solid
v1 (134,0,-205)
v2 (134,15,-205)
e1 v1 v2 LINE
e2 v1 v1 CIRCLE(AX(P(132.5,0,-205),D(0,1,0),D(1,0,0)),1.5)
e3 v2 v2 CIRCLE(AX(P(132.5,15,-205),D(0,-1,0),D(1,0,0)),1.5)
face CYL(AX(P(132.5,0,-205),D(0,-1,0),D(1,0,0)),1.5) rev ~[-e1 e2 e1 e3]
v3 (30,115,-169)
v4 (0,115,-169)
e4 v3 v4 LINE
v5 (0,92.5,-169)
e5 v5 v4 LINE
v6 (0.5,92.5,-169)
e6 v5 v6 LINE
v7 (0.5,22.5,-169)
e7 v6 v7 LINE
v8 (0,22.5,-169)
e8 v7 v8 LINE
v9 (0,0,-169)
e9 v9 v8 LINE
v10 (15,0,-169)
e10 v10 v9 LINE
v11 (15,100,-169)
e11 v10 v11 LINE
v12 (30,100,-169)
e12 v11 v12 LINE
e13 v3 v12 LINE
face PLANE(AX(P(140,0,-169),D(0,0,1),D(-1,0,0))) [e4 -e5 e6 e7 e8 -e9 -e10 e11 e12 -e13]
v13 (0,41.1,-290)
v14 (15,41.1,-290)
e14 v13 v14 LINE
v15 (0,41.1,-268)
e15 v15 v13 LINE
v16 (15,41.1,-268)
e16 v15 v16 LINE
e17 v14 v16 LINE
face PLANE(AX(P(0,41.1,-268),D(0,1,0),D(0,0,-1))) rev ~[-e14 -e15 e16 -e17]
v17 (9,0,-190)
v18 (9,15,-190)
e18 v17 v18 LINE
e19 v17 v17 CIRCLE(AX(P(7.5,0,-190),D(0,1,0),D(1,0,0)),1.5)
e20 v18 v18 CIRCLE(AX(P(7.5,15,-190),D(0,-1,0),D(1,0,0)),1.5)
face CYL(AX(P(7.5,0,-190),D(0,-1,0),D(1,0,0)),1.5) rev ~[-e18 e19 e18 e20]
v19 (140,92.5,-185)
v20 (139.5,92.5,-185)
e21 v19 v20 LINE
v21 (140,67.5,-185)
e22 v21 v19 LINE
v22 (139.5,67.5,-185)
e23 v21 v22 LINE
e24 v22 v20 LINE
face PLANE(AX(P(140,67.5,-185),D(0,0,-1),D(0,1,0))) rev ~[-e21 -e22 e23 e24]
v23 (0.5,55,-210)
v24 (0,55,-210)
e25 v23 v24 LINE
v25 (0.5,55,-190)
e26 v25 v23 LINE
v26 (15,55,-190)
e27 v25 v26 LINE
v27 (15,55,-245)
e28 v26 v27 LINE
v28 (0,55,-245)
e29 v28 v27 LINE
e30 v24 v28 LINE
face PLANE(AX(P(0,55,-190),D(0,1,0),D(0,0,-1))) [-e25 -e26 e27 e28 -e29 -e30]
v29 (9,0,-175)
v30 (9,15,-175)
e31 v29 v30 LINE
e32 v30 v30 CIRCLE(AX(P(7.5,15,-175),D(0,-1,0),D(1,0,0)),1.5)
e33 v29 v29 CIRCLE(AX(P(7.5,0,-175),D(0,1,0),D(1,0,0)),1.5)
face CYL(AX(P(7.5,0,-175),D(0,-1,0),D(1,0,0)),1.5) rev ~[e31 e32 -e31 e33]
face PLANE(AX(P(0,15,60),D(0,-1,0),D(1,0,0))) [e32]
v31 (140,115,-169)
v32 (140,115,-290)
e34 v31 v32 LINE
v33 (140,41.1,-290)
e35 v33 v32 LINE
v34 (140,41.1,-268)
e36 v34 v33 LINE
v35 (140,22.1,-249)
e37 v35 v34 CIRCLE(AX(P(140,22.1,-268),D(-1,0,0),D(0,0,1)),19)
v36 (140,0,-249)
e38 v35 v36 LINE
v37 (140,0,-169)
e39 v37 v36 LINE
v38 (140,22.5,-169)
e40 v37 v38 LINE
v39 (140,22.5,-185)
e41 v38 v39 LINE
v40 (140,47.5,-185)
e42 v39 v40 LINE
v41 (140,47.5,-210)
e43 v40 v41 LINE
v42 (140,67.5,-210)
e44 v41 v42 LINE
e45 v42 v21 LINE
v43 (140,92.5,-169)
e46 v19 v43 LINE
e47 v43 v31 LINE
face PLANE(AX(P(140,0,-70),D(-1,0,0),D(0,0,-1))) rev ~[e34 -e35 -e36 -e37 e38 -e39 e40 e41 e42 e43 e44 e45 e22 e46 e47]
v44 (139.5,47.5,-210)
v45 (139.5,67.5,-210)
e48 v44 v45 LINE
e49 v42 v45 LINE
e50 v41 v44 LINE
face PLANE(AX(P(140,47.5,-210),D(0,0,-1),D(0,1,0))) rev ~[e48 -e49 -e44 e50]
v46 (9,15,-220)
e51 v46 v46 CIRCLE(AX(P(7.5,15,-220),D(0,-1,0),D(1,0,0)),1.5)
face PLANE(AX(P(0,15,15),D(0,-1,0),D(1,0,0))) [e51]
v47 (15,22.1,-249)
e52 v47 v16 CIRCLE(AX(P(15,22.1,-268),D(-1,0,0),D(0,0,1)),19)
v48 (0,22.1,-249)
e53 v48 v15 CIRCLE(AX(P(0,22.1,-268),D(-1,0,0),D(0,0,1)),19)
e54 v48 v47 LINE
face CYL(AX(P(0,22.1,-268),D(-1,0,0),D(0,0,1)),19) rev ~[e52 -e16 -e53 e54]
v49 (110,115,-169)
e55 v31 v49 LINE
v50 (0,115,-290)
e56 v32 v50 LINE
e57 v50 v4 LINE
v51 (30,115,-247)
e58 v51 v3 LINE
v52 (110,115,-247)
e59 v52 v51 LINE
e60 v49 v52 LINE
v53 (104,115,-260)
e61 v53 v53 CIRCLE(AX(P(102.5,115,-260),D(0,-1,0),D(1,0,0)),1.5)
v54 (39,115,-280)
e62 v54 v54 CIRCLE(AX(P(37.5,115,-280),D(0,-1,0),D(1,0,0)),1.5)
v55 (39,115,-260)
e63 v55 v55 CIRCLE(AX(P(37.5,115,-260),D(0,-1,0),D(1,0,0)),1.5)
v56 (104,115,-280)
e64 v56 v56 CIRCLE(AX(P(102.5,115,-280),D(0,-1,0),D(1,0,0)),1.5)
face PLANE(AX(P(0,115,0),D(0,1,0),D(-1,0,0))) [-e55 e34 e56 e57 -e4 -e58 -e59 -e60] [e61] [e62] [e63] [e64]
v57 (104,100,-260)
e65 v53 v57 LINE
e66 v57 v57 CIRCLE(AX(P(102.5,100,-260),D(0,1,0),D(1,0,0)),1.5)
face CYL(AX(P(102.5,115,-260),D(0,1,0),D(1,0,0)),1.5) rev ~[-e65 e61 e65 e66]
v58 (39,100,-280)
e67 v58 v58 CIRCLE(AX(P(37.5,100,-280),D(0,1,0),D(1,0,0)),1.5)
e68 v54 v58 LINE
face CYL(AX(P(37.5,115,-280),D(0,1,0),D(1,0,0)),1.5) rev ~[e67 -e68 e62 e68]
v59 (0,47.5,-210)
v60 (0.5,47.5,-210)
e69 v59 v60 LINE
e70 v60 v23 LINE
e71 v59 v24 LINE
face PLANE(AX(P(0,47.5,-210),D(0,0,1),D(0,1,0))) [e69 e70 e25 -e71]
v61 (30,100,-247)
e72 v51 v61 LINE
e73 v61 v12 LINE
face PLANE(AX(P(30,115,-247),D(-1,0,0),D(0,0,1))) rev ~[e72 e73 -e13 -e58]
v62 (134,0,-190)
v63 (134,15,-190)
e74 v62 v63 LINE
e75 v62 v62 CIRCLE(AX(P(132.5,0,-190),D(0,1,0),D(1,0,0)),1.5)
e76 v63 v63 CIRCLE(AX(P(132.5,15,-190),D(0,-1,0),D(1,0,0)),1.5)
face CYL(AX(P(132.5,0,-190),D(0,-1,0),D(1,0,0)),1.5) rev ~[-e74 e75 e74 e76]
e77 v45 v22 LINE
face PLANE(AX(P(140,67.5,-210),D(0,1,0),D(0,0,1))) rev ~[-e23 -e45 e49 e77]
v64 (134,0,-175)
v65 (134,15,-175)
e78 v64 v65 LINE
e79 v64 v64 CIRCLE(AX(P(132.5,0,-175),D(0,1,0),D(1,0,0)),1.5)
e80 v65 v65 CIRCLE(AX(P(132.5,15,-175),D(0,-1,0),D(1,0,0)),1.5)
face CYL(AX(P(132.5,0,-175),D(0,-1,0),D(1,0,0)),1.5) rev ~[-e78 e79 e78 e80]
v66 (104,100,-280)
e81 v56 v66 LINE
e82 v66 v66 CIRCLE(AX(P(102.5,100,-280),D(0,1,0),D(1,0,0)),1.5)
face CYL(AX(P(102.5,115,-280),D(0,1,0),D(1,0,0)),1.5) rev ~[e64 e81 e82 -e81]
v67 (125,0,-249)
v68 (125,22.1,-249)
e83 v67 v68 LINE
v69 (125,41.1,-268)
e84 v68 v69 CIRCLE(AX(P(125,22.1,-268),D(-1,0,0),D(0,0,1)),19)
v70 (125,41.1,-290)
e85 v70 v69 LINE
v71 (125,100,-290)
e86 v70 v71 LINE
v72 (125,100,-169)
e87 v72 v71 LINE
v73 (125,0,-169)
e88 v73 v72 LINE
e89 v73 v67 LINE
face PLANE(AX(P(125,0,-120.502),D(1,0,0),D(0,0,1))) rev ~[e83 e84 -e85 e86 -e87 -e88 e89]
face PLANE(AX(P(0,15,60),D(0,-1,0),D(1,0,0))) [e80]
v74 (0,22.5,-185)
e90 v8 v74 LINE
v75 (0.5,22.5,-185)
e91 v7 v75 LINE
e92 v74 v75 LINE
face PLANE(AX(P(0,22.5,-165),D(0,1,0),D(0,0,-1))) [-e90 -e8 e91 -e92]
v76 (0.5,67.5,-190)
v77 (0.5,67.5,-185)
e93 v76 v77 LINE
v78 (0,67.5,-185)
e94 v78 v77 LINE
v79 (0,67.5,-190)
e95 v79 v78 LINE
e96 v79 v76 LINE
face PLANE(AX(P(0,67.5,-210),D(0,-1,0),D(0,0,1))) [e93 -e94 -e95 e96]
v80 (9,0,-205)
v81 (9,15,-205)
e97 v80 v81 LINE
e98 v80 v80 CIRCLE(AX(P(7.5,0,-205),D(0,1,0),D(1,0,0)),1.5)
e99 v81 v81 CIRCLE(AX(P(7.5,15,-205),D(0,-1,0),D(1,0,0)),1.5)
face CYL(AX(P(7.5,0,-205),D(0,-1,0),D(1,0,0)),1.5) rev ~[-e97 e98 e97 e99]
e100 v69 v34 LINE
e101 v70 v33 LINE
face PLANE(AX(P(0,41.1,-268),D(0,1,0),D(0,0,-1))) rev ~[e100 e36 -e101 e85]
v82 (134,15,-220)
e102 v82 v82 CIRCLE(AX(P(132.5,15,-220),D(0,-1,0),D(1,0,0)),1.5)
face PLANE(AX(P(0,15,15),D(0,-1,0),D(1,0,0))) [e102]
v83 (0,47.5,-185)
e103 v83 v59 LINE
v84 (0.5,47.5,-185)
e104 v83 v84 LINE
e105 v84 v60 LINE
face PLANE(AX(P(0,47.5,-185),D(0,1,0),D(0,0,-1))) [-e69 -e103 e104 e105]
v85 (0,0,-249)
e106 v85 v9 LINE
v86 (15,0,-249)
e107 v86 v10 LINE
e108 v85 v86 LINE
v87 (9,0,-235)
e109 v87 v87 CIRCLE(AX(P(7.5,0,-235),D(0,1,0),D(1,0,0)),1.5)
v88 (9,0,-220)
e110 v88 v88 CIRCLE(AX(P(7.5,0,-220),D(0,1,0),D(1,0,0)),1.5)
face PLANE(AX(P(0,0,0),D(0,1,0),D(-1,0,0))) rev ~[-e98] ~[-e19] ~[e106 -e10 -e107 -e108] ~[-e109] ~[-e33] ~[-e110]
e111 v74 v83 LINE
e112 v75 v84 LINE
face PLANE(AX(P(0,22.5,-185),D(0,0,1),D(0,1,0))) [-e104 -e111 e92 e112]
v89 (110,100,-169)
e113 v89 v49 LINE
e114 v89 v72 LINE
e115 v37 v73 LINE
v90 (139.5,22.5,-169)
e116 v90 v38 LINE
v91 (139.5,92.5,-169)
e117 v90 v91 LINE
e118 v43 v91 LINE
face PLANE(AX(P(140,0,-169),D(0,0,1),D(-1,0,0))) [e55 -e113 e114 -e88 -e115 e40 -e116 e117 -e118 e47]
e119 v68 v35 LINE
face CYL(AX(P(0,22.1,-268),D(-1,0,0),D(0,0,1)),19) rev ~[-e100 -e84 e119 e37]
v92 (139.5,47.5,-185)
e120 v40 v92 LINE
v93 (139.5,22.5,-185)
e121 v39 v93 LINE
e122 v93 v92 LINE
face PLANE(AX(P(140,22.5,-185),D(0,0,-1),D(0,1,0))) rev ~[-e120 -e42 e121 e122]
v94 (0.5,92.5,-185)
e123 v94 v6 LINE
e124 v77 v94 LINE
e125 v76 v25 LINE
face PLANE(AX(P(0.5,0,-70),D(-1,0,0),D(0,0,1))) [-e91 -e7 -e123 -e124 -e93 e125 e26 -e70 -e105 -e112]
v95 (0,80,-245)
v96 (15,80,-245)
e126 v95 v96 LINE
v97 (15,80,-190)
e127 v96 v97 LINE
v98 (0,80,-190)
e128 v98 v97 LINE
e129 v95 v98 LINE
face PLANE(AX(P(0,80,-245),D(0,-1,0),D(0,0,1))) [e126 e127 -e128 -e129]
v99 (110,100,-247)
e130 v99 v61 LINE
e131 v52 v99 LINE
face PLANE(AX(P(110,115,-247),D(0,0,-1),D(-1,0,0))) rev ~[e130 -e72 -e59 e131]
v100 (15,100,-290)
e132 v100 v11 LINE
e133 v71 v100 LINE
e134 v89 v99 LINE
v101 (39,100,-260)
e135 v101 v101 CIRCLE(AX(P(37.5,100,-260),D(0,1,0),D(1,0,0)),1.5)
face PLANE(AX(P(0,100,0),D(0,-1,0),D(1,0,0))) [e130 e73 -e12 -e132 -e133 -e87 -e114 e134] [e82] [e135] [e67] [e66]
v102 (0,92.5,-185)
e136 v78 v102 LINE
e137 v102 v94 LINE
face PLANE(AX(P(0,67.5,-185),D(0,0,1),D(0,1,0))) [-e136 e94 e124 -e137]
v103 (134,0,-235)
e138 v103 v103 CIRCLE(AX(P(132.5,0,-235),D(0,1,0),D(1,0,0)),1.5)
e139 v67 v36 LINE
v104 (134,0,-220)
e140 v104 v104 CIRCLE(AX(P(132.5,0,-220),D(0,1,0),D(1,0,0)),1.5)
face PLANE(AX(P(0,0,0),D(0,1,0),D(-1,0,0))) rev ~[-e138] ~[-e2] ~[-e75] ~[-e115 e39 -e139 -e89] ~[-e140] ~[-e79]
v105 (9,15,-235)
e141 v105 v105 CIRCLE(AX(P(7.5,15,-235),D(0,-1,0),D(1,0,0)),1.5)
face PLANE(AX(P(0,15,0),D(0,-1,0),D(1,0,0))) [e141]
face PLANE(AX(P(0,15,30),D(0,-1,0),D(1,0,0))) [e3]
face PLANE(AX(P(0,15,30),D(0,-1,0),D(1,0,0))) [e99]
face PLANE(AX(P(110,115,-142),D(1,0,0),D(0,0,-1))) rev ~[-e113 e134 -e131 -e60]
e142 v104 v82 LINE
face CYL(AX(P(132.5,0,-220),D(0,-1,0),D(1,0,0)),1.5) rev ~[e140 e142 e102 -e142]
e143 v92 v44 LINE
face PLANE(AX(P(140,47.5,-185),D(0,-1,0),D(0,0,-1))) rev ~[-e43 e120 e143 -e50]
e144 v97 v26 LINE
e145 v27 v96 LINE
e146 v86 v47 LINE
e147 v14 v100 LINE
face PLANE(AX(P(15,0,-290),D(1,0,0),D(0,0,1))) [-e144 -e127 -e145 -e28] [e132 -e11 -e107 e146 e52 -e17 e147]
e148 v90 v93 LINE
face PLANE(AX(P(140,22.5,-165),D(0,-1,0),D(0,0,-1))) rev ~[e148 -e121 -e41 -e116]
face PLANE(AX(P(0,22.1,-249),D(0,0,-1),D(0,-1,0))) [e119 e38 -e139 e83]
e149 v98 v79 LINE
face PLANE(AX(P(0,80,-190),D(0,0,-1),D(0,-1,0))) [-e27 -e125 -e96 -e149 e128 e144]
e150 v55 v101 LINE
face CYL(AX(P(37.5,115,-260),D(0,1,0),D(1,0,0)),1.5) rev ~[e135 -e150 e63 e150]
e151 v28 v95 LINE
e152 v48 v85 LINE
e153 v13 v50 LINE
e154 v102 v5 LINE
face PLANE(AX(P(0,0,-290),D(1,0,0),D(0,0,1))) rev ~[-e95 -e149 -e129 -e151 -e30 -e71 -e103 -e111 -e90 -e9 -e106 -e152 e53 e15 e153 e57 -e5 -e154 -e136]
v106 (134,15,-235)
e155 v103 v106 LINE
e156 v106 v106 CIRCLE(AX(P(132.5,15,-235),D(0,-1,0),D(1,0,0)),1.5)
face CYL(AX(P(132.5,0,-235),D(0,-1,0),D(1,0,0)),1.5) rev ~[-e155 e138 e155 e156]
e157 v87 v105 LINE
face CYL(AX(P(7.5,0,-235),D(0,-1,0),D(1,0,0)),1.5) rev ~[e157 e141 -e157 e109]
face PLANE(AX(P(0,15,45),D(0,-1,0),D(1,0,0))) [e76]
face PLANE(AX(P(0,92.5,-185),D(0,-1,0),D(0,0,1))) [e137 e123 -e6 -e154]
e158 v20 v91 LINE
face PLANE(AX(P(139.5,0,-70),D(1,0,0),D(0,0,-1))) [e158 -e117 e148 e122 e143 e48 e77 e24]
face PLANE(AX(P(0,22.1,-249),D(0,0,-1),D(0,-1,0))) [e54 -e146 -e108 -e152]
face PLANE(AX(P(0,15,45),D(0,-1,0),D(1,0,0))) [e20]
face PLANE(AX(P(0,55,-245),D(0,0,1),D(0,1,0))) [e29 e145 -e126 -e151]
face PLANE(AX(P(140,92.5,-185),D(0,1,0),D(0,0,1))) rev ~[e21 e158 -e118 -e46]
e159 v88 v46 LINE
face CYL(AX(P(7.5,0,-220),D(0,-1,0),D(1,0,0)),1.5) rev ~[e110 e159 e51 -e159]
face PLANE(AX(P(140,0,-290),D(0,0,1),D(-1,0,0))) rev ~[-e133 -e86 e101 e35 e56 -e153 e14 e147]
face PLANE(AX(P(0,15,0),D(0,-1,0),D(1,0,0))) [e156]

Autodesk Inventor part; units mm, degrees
sketch "Sketch1" plane through (0, 0, 0) normal (0, 1, 0) x (-1, 0, 0)
  line L0 (0, 0) -> (-140, 0)
  line L1 (-140, 0) -> (-140, -290)
  line L2 (-140, -290) -> (0, -290)
  line L3 (0, -290) -> (0, 0)
  line L4 (0, -70) -> (-50, 0)
  line L5 (-90, 0) -> (-140, -70)
  dimension "d0" = 290
  dimension "d1" = 140
  dimension "d2" = 70
  dimension "d3" = 50
  dimension "d4" = 50
extrude "Extrusion1" add sketch "Sketch1" along normal blind 115 contours L4 L3 L2 L1 L5 L0
sketch "Sketch2" plane through (140, 0, -70) normal (1, 0, 0) x (0, 0, -1)
  line L0 (-70, 0) -> (-70, 115) projected
  line L1 (-70, 45) -> (0, 65)
  line L2 (0, 0) -> (0, 115) projected
  line L3 (0, 65) -> (40, 115)
  line L4 (220, 115) -> (0, 115) projected
  line L5 (-70, 0) -> (0, 0) projected
  line L6 (0, 0) -> (0, 115) projected
  line L7 (-70, 115) -> (0, 115) projected
  line L8 (-70, 0) -> (-70, 115) projected
  point P0 (0, 115)
  dimension "d7" = 20
  dimension "d8" = 45
  dimension "d9" = 40
extrude "Extrusion2" cut sketch "Sketch2" against normal up to next contours L0 L7 L2 L1
extrude "Extrusion3" cut sketch "Sketch2" against normal up to next contours L2 L4 L3
sketch "Sketch5" plane through (50, 45, 0) normal (0, 0.9615, 0.2747) x (1, 0, 0)
  line L0 (90, 72.8011) -> (-50, 72.8011) projected
  line L1 (-50, 298.0724) -> (-50, 124.9981) projected
  point P0 (-50, -12.3625)
  point P1 (20, 52.8011)
  dimension "d17" = 20
  dimension "d18" = 70
ref_plane "Work Plane2" through (70, 115, -110) normal (0.1295, 0.7236, 0.678) x (0, -0.6837, 0.7297)
sketch "Sketch7" plane through (70, 115, -110) normal (0.1295, 0.7236, 0.678) x (0, -0.6837, 0.7297)
  line L0 (0, -69.411) -> (0, 69.411) projected
  line L1 (0, 69.411) -> (-131.3545, 85.3428) projected
  line L2 (-131.3545, 85.3428) -> (-131.3545, -53.4792) projected
  line L3 (-131.3545, -53.4792) -> (0, -69.411) projected
  line L4 (63.3757, -68.2279) -> (0, -69.411) projected
  line L5 (63.3757, 70.594) -> (63.3757, -68.2279) projected
  line L6 (0, 69.411) -> (63.3757, 70.594) projected
  line L7 (0, -69.411) -> (0, 69.411) projected
  line L8 (0, 69.411) -> (63.3757, 70.594) projected
  line L9 (107.8174, 76.7345) -> (63.3757, 70.594) projected
  line L10 (107.8174, 76.7345) -> (-52.727, 96.2066) projected
  line L11 (-52.727, 96.2066) -> (-131.3545, 85.3428) projected
  line L12 (0, 69.411) -> (-131.3545, 85.3428) projected
  line L13 (128.1324, -22.955) -> (63.3757, -68.2279) projected
  line L14 (128.1324, 16.7084) -> (128.1324, -22.955) projected
  line L15 (63.3757, 70.594) -> (128.1324, 16.7084) projected
  line L16 (63.3757, 70.594) -> (63.3757, -68.2279) projected
  line L17 (63.3757, 70.594) -> (128.1324, 16.7084) projected
  line L18 (158.8997, 20.9595) -> (128.1324, 16.7084) projected
  line L19 (158.8997, 20.9595) -> (107.8174, 76.7345) projected
  line L20 (107.8174, 76.7345) -> (63.3757, 70.594) projected
  line L21 (128.1324, 16.7084) -> (128.1324, -22.955) projected
  line L22 (107.8174, -62.0875) -> (63.3757, -68.2279) projected
  line L23 (107.8174, -62.0875) -> (158.8997, -18.7039) projected
  line L24 (128.1324, 16.7084) -> (128.1324, -22.955) projected
  line L25 (158.8997, -18.7039) -> (128.1324, -22.955) projected
  line L26 (158.8997, -18.7039) -> (158.8997, 20.9595) projected
  line L27 (158.8997, 20.9595) -> (128.1324, 16.7084) projected
  line L28 (0, 0) -> (81.1658, 0)
  line L29 (81.1658, 0) -> (63.3757, 70.594)
  line L30 (0, 0) -> (63.3757, 70.594)
  point P0 (158.8997, -68.2832)
extrude "Extrusion4" cut sketch "Sketch7" along normal up to next contours L3 L2 L1 L0 | L0 L28 L5 L4 | L30 L5 L28 | L0 L6 L30 | L1 L11 L10 L9 L6
extrude "Extrusion5" add sketch "Sketch7" against normal blind 20 contours L30 L5 L28 | L5 L29 L28
ref_plane "Work Plane3" through (70, 115, -110) normal (0.1295, -0.7236, -0.678) x (0, -0.6837, 0.7297)
sketch "Sketch9" plane through (70, 115, -110) normal (0.1295, -0.7236, -0.678) x (0, -0.6837, 0.7297)
  line L0 (81.1658, 0) -> (63.3757, 2.3661) projected
  line L1 (-131.3545, 85.3428) -> (0, 69.411) projected
  line L2 (81.1658, 0) -> (0, 0)
  line L3 (0, 0) -> (0, 69.411)
  line L4 (0, 69.411) -> (81.1658, 69.411)
  line L5 (81.1658, 69.411) -> (81.1658, 0)
  line L6 (0, 0) -> (-9.7539, -68.2279) projected
  line L7 (0, 0) -> (-9.7539, -68.2279) projected
  line L8 (-9.7539, -68.2279) -> (-131.3545, -53.4792) projected
  line L9 (-131.3545, -53.4792) -> (-131.3545, 85.3428) projected
  line L10 (-131.3545, 85.3428) -> (0, 69.411) projected
  line L11 (0, 69.411) -> (0, 0) projected
  line L12 (0, 0) -> (81.1658, 0) projected
  line L13 (93.1192, -47.4335) -> (81.1658, 0) projected
  line L14 (148.2908, -20.1697) -> (93.1192, -47.4335) projected
  line L15 (153.1835, 20.1697) -> (148.2908, -20.1697) projected
  line L16 (63.3757, 70.594) -> (153.1835, 20.1697) projected
  line L17 (81.1658, 0) -> (63.3757, 70.594) projected
  line L18 (0, 0) -> (-9.7539, 70.594) projected
  line L19 (63.3757, 70.594) -> (0, 0) projected
  line L20 (-9.7539, 70.594) -> (63.3757, 70.594) projected
  line L21 (0, 0) -> (81.1658, 0) projected
  line L22 (0, 0) -> (-9.7539, 70.594) projected
  line L23 (63.3757, 70.594) -> (0, 0) projected
  line L24 (0, 0) -> (81.1658, 0) projected
  line L25 (0, 0) -> (-9.7539, 70.594) projected
  line L26 (63.3757, 70.594) -> (0, 0) projected
  line L27 (93.1192, -47.4335) -> (81.1658, 0) projected
  line L28 (148.2908, -20.1697) -> (93.1192, -47.4335) projected
  line L29 (153.1835, 20.1697) -> (148.2908, -20.1697) projected
  line L30 (63.3757, 70.594) -> (153.1835, 20.1697) projected
  line L31 (81.1658, 0) -> (63.3757, 70.594) projected
  line L32 (-9.7539, 70.594) -> (63.3757, 70.594) projected
  line L33 (93.1192, -47.4335) -> (81.1658, 0) projected
  line L34 (148.2908, -20.1697) -> (93.1192, -47.4335) projected
  line L35 (153.1835, 20.1697) -> (148.2908, -20.1697) projected
  line L36 (63.3757, 70.594) -> (153.1835, 20.1697) projected
  line L37 (81.1658, 0) -> (63.3757, 70.594) projected
  line L38 (-9.7539, 70.594) -> (63.3757, 70.594) projected
  point P0 (158.8997, 70.5388)
  point P1 (62.3137, 69.411)
  point P2 (63.6739, 69.411)
  point P3 (65.4828, 69.411)
extrude "Extrusion7" cut sketch "Sketch9" against normal blind 20 contours L20 L19 L4 L1 | L1 L3 L18 | L4 L19 L3
extrude "Extrusion8" add sketch "Sketch9" along normal blind 20 contours L19 L4 L17 L2 | L16 L4 L17 | L17 L4 L19 | L17 L4 L16 L5 | L5 L16 L15 L14 L13
sketch "Sketch10" plane through (140, 0, -290) normal (0, 0, -1) x (-1, 0, 0)
  line L0 (140, 0) -> (0, 0)
  line L1 (0, 0) -> (0, -20)
  line L2 (0, -20) -> (140, -20)
  line L3 (140, -20) -> (140, 0)
  dimension "d31" = 20
extrude "Extrusion9" cut sketch "Sketch10" against normal up to next
ref_plane "Work Plane5" through (0, 15, 0) normal (0, -1, 0) x (1, 0, 0)
sketch "Sketch11" plane through (0, 15, 0) normal (0, -1, 0) x (1, 0, 0)
  line L0 (50, 0) -> (0, -70) projected
  line L1 (0, -70) -> (25, -63.132)
  line L2 (70, -50.7695) -> (0, -70) projected
  line L3 (25, -63.132) -> (50, 0)
  line L4 (90, 0) -> (140, -70) projected
  line L5 (90, 0) -> (140, -70)
  line L6 (140, -70) -> (70, -50.7695)
  line L7 (50, 0) -> (90, 0) projected
  line L8 (90, 0) -> (115, -63.132)
  line L9 (34.8321, -38.3031) -> (17.8321, -45.035)
  line L10 (105.1679, -38.3031) -> (122.1679, -45.035)
  line L11 (34.8321, -38.3031) -> (50, 0)
  line L12 (105.1679, -38.3031) -> (90, 0)
  line L13 (122.1679, -45.035) -> (90, 0)
  line L14 (17.8321, -45.035) -> (50, 0)
  point P0 (0, 0)
  dimension "d36" = 25
  dimension "d37" = 25
  dimension "d40" = 17
  dimension "d41" = 17
extrude "Extrusion10" cut sketch "Sketch11" against normal up to next contours L3 L9 L0 | L4 L10 L8
ref_plane "Work Plane6" through (0, 35, 0) normal (0, -1, 0) x (1, 0, 0)
sketch "Sketch12" plane through (0, 35, 0) normal (0, -1, 0) x (1, 0, 0)
  line L0 (114.8999, -25) -> (99.8999, -25)
  line L1 (99.8999, -25) -> (99.8999, -50)
  line L2 (99.8999, -50) -> (114.8999, -50)
  line L3 (114.8999, -50) -> (114.8999, -25)
  line L4 (90, 0) -> (105.1679, -38.3031) projected
  line L5 (34.8321, -38.3031) -> (50, 0) projected
  line L6 (40.1001, -25) -> (25.1001, -25)
  line L7 (25.1001, -25) -> (25.1001, -50)
  line L8 (25.1001, -50) -> (40.1001, -50)
  line L9 (40.1001, -50) -> (40.1001, -25)
  point P0 (0, 0)
  point P1 (114.8999, -37.5)
  point P2 (99.8999, -37.5)
  point P3 (107.3999, -25)
  point P4 (107.3999, -50)
  point P5 (32.6001, -25)
  dimension "d43" = 15
  dimension "d44" = 25
  dimension "d45" = 25
  dimension "d46" = 15
  dimension "d47" = 25
  dimension "d48" = 25
extrude "Extrusion11" add sketch "Sketch12" along normal blind 7.5 and the other way blind 7.5
sketch "Sketch13" plane through (25.1001, 27.5, -25) normal (0, 0, 1) x (1, 0, 0)
  line L0 (0, 15) -> (15, 15) projected
  line L1 (15, 15) -> (15, 0) projected
  line L2 (15, 0) -> (0, 0) projected
  line L3 (0, 0) -> (0, 15) projected
  line L4 (15, 15) -> (15, 24.6429) projected
  line L5 (15, 24.6429) -> (74.7998, 24.6429) projected
  line L6 (74.7998, 24.6429) -> (74.7998, 15) projected
  line L7 (74.7998, 0) -> (74.7998, 15) projected
  line L8 (89.7998, 0) -> (74.7998, 0) projected
  line L9 (89.7998, 15) -> (89.7998, 0) projected
  line L10 (74.7998, 15) -> (89.7998, 15) projected
  line L11 (15, -12.5) -> (15, 0) projected
  line L12 (7.0428, -12.5) -> (15, -12.5) projected
  line L13 (7.0428, -27.5) -> (7.0428, -12.5) projected
  line L14 (82.757, -27.5) -> (7.0428, -27.5) projected
  line L15 (82.757, -12.5) -> (82.757, -27.5) projected
  line L16 (74.7998, -12.5) -> (82.757, -12.5) projected
  line L17 (74.7998, 0) -> (74.7998, -12.5) projected
  line L18 (2, 15) -> (2, 0)
  line L19 (13, 15) -> (13, 0)
  line L20 (0, 13) -> (15, 13)
  line L21 (0, 2) -> (15, 2)
  line L22 (74.7998, 13) -> (89.7998, 13)
  line L23 (74.7998, 2) -> (89.7998, 2)
  line L24 (76.7998, 15) -> (76.7998, 0)
  line L25 (89.7998, 0) -> (80.0678, 0) projected
  line L26 (87.7998, 15) -> (87.7998, 0)
  line L27 (2, 13) -> (13, 13)
  line L28 (13, 13) -> (13, 2)
  line L29 (13, 2) -> (2, 2)
  line L30 (2, 2) -> (2, 13)
  line L31 (76.7998, 13) -> (87.7998, 13)
  line L32 (87.7998, 13) -> (87.7998, 2)
  line L33 (87.7998, 2) -> (76.7998, 2)
  line L34 (76.7998, 2) -> (76.7998, 13)
  line L35 (0, 15) -> (15, 15) projected
  line L36 (0, 15) -> (15, 15)
  line L37 (15, 15) -> (15, 0)
  line L38 (15, 0) -> (0, 0)
  line L39 (0, 0) -> (0, 15)
  line L40 (74.7998, 15) -> (80.0678, 15) projected
  line L41 (74.7998, 15) -> (89.7998, 15)
  line L42 (89.7998, 15) -> (89.7998, 0)
  line L43 (89.7998, 0) -> (74.7998, 0)
  line L44 (74.7998, 0) -> (74.7998, 15)
  point P0 (-25.1001, -27.5)
  point P1 (7.5, 0)
  point P2 (7.5, 2)
  point P3 (87.7998, 13)
  point P4 (13, 13)
  point P5 (2, 2)
  dimension "d53" = 2
  dimension "d54" = 11
  dimension "d55" = 2
  dimension "d56" = 11
  dimension "d57" = 2
  dimension "d58" = 11
  dimension "d59" = 2
  dimension "d60" = 2
extrude "Extrusion12" add sketch "Sketch13" along normal blind 7.5 contours L0 L18 L20 L3 | L0 L19 L20 L18 | L20 L18 L21 L3 | L0 L1 L20 L19 | L21 L18 L2 L3 | L20 L1 L21 L19 | L21 L19 L2 L18 | L21 L1 L2 L19 | L10 L24 L22 L7 | L22 L24 L23 L7 | L10 L26 L22 L24 | L23 L24 L8 L7 | L23 L26 L8 L24 | L26 L10 L9 L22 | L22 L9 L23 L26 | L23 L9 L8 L26
sketch "Sketch14" plane through (50, 0, 0) normal (0, 0, 1) x (1, 0, 0)
  line L0 (3.0769, 39) -> (6.1538, 39)
  line L1 (6.1538, 39) -> (6.1538, 6)
  line L2 (6.1538, 6) -> (3.0769, 6)
  line L3 (3.0769, 6) -> (3.0769, 39)
  line L4 (9.2308, 39) -> (12.3077, 39)
  line L5 (12.3077, 39) -> (12.3077, 6)
  line L6 (12.3077, 6) -> (9.2308, 6)
  line L7 (9.2308, 6) -> (9.2308, 39)
  line L8 (15.3846, 39) -> (18.4615, 39)
  line L9 (18.4615, 39) -> (18.4615, 6)
  line L10 (18.4615, 6) -> (15.3846, 6)
  line L11 (15.3846, 6) -> (15.3846, 39)
  line L12 (21.5385, 39) -> (24.6154, 39)
  line L13 (24.6154, 39) -> (24.6154, 6)
  line L14 (24.6154, 6) -> (21.5385, 6)
  line L15 (21.5385, 6) -> (21.5385, 39)
  line L16 (27.6923, 39) -> (30.7692, 39)
  line L17 (30.7692, 39) -> (30.7692, 6)
  line L18 (30.7692, 6) -> (27.6923, 6)
  line L19 (27.6923, 6) -> (27.6923, 39)
  line L20 (33.8462, 39) -> (36.9231, 39)
  line L21 (36.9231, 39) -> (36.9231, 6)
  line L22 (36.9231, 6) -> (33.8462, 6)
  line L23 (33.8462, 6) -> (33.8462, 39)
  line L24 (0, 15) -> (0, 45) projected
  line L25 (40, 45) -> (0, 45) projected
  line L26 (0, 0) -> (40, 0) projected
  point P0 (-50, 0)
  point P1 (16.9231, 39)
  point P2 (35.3846, 6)
  dimension "d63" = 3.0769
  dimension "d64" = 3.0769
  dimension "d65" = 3.0769
  dimension "d66" = 3.0769
  dimension "d67" = 3.0769
  dimension "d68" = 3.0769
  dimension "d69" = 3.0769
  dimension "d70" = 3.0769
  dimension "d71" = 3.0769
  dimension "d72" = 3.0769
  dimension "d73" = 3.0769
  dimension "d74" = 3.0769
  dimension "d75" = 6
  dimension "d76" = 6
extrude "Extrusion13" cut sketch "Sketch14" against normal blind 7.5
sketch "Sketch15" plane through (70, 115, -110) normal (0.1295, 0.7236, 0.678) x (0.9916, -0.0945, -0.0885)
  line L0 (8, -6.9706) -> (62.594, 0.5726)
  line L1 (62.594, 0.5726) -> (62.594, -57.1417)
  line L2 (62.594, -57.1417) -> (8, -70.8996)
  line L3 (8, -70.8996) -> (8, -6.9706)
  line L4 (0, 0) -> (0, -81.1658) projected
  line L5 (0, 0) -> (70.594, 9.7539) projected
  line L6 (70.594, 9.7539) -> (70.594, -63.3757) projected
  line L7 (70.594, -63.3757) -> (0, -81.1658) projected
  point P0 (-68.2832, -158.8997)
  dimension "d79" = 8
  dimension "d80" = 8
  dimension "d81" = 8
  dimension "d82" = 8
extrude "Extrusion14" cut sketch "Sketch15" against normal blind 1 contours L0 L1 L2 L3
sketch "Sketch16" plane through (70, 115, -110) normal (-0.1295, 0.7236, 0.678) x (0.9916, 0.0945, 0.0885)
  line L0 (-8, -70.8996) -> (-62.594, -57.1417)
  line L1 (-62.594, -57.1417) -> (-62.594, 0.5726)
  line L2 (-62.594, 0.5726) -> (-8, -6.9706)
  line L3 (-8, -6.9706) -> (-8, -70.8996)
  line L4 (-70.594, 9.7539) -> (0, 0) projected
  line L5 (0, 0) -> (0, -81.1658) projected
  line L6 (0, -81.1658) -> (-70.594, -63.3757) projected
  line L7 (-70.594, -63.3757) -> (-70.594, 9.7539) projected
  point P0 (-70.5388, -158.8997)
  point P1 (0, -40.5829)
  dimension "d85" = 8
  dimension "d86" = 8
  dimension "d87" = 8
  dimension "d88" = 8
extrude "Extrusion15" cut sketch "Sketch16" against normal blind 1 contours L0 L1 L2 L3
sketch "Sketch17" plane through (0, 0, 0) normal (0, -1, 0) x (1, 0, 0)
  line L0 (90, 0) -> (140, -70) projected
  line L1 (140, -70) -> (140, -290) projected
  line L2 (140, -290) -> (0, -290) projected
  line L3 (0, -290) -> (0, -70) projected
  line L4 (0, -70) -> (50, 0) projected
  line L5 (50, 0) -> (90, 0) projected
  line L6 (0, -123.3662) -> (70, -110) projected
  line L7 (70, -110) -> (140, -123.3662) projected
  line L8 (140, -123.3662) -> (140, -290) projected
  line L9 (140, -290) -> (0, -290) projected
  line L10 (0, -290) -> (0, -123.3662) projected
  line L11 (125, -290) -> (15, -290)
  line L12 (15, -290) -> (15, -120.502)
  line L13 (15, -120.502) -> (125, -120.502)
  line L14 (125, -120.502) -> (125, -290)
  line L15 (140, -70) -> (0, -70)
  line L16 (131.9379, -116.636) -> (131.9379, -74.5192) projected
  line L17 (140, -290) -> (0, -290) projected
  point P0 (0, 0)
  point P1 (125, -205.251)
  point P2 (15, -290)
  dimension "d91" = 15
  dimension "d92" = 15
extrude "Extrusion16" cut sketch "Sketch17" against normal blind 100 contours L14 L2 L12 L13
sketch "Sketch18" plane through (0, 0, 0) normal (0, -1, 0) x (1, 0, 0)
  line L0 (0, -123.3662) -> (70, -110) projected
  line L1 (15, -120.502) -> (15, -72.6132)
  line L2 (62.1968, -59.6473) -> (8.0621, -74.5192) projected
  line L3 (70, -110) -> (140, -123.3662) projected
  line L4 (125, -120.502) -> (125, -71.8997)
  line L5 (132.0673, -73.8412) -> (77.9327, -58.9693) projected
  line L6 (125, -120.502) -> (125, -290) projected
  line L7 (15, -290) -> (15, -120.502) projected
  line L8 (70, -110) -> (70, -50.7695) projected
  line L9 (125, -71.8997) -> (70, -50.7695)
  line L10 (70, -50.7695) -> (15, -72.6132)
  line L11 (125, -120.502) -> (15, -120.502)
  point P0 (0, 0)
extrude "Extrusion17" cut sketch "Sketch18" against normal blind 55
chamfer "Chamfer1" distance 45 angle 45 1 edges at (70, 55, -120.502)
sketch "Sketch19" plane through (0, 115, 0) normal (0, 1, 0) x (1, 0, 0)
  line L0 (110, 247) -> (30, 247)
  line L1 (30, 247) -> (30, 142)
  line L2 (30, 142) -> (110, 142)
  line L3 (110, 142) -> (110, 247)
  line L4 (140, 290) -> (0, 290) projected
  line L5 (0, 290) -> (0, 123.3662) projected
  line L6 (140, 123.3662) -> (140, 290) projected
  point P0 (0, 0)
  point P1 (0, 206.6831)
  dimension "d100" = 43
  dimension "d101" = 30
  dimension "d102" = 30
  dimension "d103" = 105
extrude "Extrusion18" cut sketch "Sketch19" against normal up to next
sketch "Sketch20" plane through (0, 0, -290) normal (-1, 0, 0) x (0, 0, 1)
  circle A0 centre (22, 22.1) radius 19
  circle A1 centre (198, 22.1) radius 19
  line L0 (0, 0) -> (220, 0) projected
  line L1 (0, 0) -> (0, 115) projected
  line L2 (0, 0) -> (0, 115) projected
  line L3 (22, 41.1) -> (0, 41.1)
  line L4 (41, 22.1) -> (41, 0)
  line L5 (218.1003, 0) -> (0, 0) projected
  line L6 (179, 22.1) -> (179, 0)
  line L7 (217.3868, 0) -> (217.3868, 55) projected
  line L8 (217, 22.1) -> (217, 0)
  point P0 (290, 0)
  dimension "d106" = 22.1
  dimension "d107" = 22.1
  dimension "d108" = 22
  dimension "d109" = 198
  dimension "d110" = 38
  dimension "d111" = 38
extrude "Extrusion19" cut sketch "Sketch20" against normal up to surface (140 mm away)
sketch "Sketch21" plane through (0, 0, -70) normal (-1, 0, 0) x (0, 0, 1)
  line L0 (-140, 67.5) -> (-70, 67.5)
  line L1 (-70, 67.5) -> (-70, 47.5)
  line L2 (-70, 47.5) -> (-140, 47.5)
  line L3 (-140, 47.5) -> (-140, 67.5)
  line L4 (-115, 92.5) -> (-95, 92.5)
  line L5 (-95, 92.5) -> (-95, 22.5)
  line L6 (-95, 22.5) -> (-115, 22.5)
  line L7 (-115, 22.5) -> (-115, 92.5)
  line L8 (-179, 0) -> (-41, 0) projected
  line L9 (-220, 41.1) -> (-220, 115) projected
  point P0 (70, 0)
  point P1 (-95, 57.5)
  point P2 (-105, 67.5)
  point P3 (-140, 57.5)
  point P4 (-70, 57.5)
  point P5 (-105, 92.5)
  point P6 (-115, 67.5)
  point P7 (-115, 47.5)
  point P8 (-95, 47.5)
  point P9 (-95, 67.5)
  dimension "d114" = 57.5
  dimension "d115" = 115
  dimension "d116" = 70
  dimension "d117" = 70
  dimension "d118" = 20
  dimension "d119" = 20
extrude "Extrusion20" cut sketch "Sketch21" against normal blind 0.5
sketch "Sketch22" plane through (140, 0, -70) normal (1, 0, 0) x (0, 0, -1)
  line L0 (115, 67.5) -> (115, 92.5) projected
  line L1 (140, 67.5) -> (115, 67.5) projected
  line L2 (140, 47.5) -> (140, 67.5) projected
  line L3 (115, 47.5) -> (140, 47.5) projected
  line L4 (115, 22.5) -> (115, 47.5) projected
  line L5 (95, 22.5) -> (115, 22.5) projected
  line L6 (95, 47.5) -> (95, 22.5) projected
  line L7 (70, 47.5) -> (95, 47.5) projected
  line L8 (70, 67.5) -> (70, 47.5) projected
  line L9 (95, 67.5) -> (70, 67.5) projected
  line L10 (95, 92.5) -> (95, 67.5) projected
  line L11 (115, 92.5) -> (95, 92.5) projected
  point P0 (-70, 0)
extrude "Extrusion21" cut sketch "Sketch22" against normal blind 0.5
sketch "Sketch23" plane through (0, 115, 0) normal (0, 1, 0) x (1, 0, 0)
  line L0 (102.5, 280) -> (37.5, 280)
  line L1 (37.5, 280) -> (37.5, 260)
  line L2 (37.5, 260) -> (102.5, 260)
  line L3 (102.5, 260) -> (102.5, 280)
  line L4 (0, 290) -> (0, 123.3662) projected
  line L5 (140, 290) -> (0, 290) projected
  circle A0 centre (102.5, 260) radius 1.5
  point P0 (0, 0)
  point P1 (70, 280)
  point P2 (37.5, 270)
  point P3 (102.5, 270)
  dimension "d124" = 70
  dimension "d125" = 65
  dimension "d126" = 20
  dimension "d127" = 20
  dimension "d128" = 3
extrude "Extrusion22" cut sketch "Sketch23" against normal up to next contours A0 L2 L3 | L3 L2 A0
pattern_linear "Rectangular Pattern1" count 2 spacing 65 along (-1, 0, 0) count 2 spacing 20 along (0, 0, -1) of "Extrusion22"
sketch "Sketch24" plane through (0, 0, 0) normal (0, -1, 0) x (1, 0, 0)
  line L0 (132.5, -235) -> (132.5, -134.3405)
  line L1 (7.5, -235) -> (7.5, -134.3405)
  line L2 (140, -290) -> (125, -290) projected
  line L3 (15, -290) -> (0, -290) projected
  line L4 (125, -111) -> (125, -249) projected
  line L5 (0, -249) -> (0, -111) projected
  circle A0 centre (132.5, -235) radius 1.5
  circle A1 centre (7.5, -235) radius 1.5
  point P0 (0, 0)
  point P1 (132.5, -290)
  dimension "d137" = 55
  dimension "d138" = 55
  dimension "d139" = 7.5
  dimension "d140" = 7.5
  dimension "d141" = 3
  dimension "d142" = 3
extrude "Extrusion23" cut sketch "Sketch24" against normal blind 15
pattern_linear "Rectangular Pattern2" count 8 spacing 15 along (0, 0, 1) of "Extrusion23"
sketch "Sketch25" plane through (0, 0, -70) normal (-1, 0, 0) x (0, 0, 1)
  line L0 (-175, 80) -> (-120, 80)
  line L1 (-120, 80) -> (-120, 55)
  line L2 (-120, 55) -> (-175, 55)
  line L3 (-175, 55) -> (-175, 80)
  line L4 (-179, 0) -> (-41, 0) projected
  line L5 (-220, 41.1) -> (-220, 115) projected
  point P0 (70, 0)
  point P1 (-120, 67.5)
  dimension "d148" = 80
  dimension "d149" = 55
  dimension "d150" = 45
  dimension "d151" = 100
extrude "Extrusion24" cut sketch "Sketch25" against normal up to surface (15 mm away)
sketch "Sketch26" plane through (0, 115, 0) normal (0, 1, 0) x (1, 0, 0)
  circle A0 centre (70, 199.5776) radius 70.1084
  line L0 (110, 142) -> (110, 247) projected
  line L1 (110, 142) -> (30, 142)
  circle A1 centre (102.5, 260) radius 1.5 projected
  point P0 (0, 0)
extrude "Extrusion25" cut sketch "Sketch26" against normal up to surface (15 mm away) contours L1 A0 picked at (80.2779, 140.2045)
sketch "Sketch27" plane through (0, 0, 0) normal (0, -1, 0) x (1, 0, 0)
  line L0 (0, 0) -> (140, 0)
  line L1 (140, 0) -> (140, -169)
  line L2 (140, -169) -> (0, -169)
  line L3 (0, -169) -> (0, 0)
  line L4 (125, -290) -> (15, -290) projected
  line L5 (140, -111) -> (140, -249) projected
  dimension "d157" = 121
extrude "Extrusion26" cut sketch "Sketch27" against normal up to next
properties part number "car_cover_back"
